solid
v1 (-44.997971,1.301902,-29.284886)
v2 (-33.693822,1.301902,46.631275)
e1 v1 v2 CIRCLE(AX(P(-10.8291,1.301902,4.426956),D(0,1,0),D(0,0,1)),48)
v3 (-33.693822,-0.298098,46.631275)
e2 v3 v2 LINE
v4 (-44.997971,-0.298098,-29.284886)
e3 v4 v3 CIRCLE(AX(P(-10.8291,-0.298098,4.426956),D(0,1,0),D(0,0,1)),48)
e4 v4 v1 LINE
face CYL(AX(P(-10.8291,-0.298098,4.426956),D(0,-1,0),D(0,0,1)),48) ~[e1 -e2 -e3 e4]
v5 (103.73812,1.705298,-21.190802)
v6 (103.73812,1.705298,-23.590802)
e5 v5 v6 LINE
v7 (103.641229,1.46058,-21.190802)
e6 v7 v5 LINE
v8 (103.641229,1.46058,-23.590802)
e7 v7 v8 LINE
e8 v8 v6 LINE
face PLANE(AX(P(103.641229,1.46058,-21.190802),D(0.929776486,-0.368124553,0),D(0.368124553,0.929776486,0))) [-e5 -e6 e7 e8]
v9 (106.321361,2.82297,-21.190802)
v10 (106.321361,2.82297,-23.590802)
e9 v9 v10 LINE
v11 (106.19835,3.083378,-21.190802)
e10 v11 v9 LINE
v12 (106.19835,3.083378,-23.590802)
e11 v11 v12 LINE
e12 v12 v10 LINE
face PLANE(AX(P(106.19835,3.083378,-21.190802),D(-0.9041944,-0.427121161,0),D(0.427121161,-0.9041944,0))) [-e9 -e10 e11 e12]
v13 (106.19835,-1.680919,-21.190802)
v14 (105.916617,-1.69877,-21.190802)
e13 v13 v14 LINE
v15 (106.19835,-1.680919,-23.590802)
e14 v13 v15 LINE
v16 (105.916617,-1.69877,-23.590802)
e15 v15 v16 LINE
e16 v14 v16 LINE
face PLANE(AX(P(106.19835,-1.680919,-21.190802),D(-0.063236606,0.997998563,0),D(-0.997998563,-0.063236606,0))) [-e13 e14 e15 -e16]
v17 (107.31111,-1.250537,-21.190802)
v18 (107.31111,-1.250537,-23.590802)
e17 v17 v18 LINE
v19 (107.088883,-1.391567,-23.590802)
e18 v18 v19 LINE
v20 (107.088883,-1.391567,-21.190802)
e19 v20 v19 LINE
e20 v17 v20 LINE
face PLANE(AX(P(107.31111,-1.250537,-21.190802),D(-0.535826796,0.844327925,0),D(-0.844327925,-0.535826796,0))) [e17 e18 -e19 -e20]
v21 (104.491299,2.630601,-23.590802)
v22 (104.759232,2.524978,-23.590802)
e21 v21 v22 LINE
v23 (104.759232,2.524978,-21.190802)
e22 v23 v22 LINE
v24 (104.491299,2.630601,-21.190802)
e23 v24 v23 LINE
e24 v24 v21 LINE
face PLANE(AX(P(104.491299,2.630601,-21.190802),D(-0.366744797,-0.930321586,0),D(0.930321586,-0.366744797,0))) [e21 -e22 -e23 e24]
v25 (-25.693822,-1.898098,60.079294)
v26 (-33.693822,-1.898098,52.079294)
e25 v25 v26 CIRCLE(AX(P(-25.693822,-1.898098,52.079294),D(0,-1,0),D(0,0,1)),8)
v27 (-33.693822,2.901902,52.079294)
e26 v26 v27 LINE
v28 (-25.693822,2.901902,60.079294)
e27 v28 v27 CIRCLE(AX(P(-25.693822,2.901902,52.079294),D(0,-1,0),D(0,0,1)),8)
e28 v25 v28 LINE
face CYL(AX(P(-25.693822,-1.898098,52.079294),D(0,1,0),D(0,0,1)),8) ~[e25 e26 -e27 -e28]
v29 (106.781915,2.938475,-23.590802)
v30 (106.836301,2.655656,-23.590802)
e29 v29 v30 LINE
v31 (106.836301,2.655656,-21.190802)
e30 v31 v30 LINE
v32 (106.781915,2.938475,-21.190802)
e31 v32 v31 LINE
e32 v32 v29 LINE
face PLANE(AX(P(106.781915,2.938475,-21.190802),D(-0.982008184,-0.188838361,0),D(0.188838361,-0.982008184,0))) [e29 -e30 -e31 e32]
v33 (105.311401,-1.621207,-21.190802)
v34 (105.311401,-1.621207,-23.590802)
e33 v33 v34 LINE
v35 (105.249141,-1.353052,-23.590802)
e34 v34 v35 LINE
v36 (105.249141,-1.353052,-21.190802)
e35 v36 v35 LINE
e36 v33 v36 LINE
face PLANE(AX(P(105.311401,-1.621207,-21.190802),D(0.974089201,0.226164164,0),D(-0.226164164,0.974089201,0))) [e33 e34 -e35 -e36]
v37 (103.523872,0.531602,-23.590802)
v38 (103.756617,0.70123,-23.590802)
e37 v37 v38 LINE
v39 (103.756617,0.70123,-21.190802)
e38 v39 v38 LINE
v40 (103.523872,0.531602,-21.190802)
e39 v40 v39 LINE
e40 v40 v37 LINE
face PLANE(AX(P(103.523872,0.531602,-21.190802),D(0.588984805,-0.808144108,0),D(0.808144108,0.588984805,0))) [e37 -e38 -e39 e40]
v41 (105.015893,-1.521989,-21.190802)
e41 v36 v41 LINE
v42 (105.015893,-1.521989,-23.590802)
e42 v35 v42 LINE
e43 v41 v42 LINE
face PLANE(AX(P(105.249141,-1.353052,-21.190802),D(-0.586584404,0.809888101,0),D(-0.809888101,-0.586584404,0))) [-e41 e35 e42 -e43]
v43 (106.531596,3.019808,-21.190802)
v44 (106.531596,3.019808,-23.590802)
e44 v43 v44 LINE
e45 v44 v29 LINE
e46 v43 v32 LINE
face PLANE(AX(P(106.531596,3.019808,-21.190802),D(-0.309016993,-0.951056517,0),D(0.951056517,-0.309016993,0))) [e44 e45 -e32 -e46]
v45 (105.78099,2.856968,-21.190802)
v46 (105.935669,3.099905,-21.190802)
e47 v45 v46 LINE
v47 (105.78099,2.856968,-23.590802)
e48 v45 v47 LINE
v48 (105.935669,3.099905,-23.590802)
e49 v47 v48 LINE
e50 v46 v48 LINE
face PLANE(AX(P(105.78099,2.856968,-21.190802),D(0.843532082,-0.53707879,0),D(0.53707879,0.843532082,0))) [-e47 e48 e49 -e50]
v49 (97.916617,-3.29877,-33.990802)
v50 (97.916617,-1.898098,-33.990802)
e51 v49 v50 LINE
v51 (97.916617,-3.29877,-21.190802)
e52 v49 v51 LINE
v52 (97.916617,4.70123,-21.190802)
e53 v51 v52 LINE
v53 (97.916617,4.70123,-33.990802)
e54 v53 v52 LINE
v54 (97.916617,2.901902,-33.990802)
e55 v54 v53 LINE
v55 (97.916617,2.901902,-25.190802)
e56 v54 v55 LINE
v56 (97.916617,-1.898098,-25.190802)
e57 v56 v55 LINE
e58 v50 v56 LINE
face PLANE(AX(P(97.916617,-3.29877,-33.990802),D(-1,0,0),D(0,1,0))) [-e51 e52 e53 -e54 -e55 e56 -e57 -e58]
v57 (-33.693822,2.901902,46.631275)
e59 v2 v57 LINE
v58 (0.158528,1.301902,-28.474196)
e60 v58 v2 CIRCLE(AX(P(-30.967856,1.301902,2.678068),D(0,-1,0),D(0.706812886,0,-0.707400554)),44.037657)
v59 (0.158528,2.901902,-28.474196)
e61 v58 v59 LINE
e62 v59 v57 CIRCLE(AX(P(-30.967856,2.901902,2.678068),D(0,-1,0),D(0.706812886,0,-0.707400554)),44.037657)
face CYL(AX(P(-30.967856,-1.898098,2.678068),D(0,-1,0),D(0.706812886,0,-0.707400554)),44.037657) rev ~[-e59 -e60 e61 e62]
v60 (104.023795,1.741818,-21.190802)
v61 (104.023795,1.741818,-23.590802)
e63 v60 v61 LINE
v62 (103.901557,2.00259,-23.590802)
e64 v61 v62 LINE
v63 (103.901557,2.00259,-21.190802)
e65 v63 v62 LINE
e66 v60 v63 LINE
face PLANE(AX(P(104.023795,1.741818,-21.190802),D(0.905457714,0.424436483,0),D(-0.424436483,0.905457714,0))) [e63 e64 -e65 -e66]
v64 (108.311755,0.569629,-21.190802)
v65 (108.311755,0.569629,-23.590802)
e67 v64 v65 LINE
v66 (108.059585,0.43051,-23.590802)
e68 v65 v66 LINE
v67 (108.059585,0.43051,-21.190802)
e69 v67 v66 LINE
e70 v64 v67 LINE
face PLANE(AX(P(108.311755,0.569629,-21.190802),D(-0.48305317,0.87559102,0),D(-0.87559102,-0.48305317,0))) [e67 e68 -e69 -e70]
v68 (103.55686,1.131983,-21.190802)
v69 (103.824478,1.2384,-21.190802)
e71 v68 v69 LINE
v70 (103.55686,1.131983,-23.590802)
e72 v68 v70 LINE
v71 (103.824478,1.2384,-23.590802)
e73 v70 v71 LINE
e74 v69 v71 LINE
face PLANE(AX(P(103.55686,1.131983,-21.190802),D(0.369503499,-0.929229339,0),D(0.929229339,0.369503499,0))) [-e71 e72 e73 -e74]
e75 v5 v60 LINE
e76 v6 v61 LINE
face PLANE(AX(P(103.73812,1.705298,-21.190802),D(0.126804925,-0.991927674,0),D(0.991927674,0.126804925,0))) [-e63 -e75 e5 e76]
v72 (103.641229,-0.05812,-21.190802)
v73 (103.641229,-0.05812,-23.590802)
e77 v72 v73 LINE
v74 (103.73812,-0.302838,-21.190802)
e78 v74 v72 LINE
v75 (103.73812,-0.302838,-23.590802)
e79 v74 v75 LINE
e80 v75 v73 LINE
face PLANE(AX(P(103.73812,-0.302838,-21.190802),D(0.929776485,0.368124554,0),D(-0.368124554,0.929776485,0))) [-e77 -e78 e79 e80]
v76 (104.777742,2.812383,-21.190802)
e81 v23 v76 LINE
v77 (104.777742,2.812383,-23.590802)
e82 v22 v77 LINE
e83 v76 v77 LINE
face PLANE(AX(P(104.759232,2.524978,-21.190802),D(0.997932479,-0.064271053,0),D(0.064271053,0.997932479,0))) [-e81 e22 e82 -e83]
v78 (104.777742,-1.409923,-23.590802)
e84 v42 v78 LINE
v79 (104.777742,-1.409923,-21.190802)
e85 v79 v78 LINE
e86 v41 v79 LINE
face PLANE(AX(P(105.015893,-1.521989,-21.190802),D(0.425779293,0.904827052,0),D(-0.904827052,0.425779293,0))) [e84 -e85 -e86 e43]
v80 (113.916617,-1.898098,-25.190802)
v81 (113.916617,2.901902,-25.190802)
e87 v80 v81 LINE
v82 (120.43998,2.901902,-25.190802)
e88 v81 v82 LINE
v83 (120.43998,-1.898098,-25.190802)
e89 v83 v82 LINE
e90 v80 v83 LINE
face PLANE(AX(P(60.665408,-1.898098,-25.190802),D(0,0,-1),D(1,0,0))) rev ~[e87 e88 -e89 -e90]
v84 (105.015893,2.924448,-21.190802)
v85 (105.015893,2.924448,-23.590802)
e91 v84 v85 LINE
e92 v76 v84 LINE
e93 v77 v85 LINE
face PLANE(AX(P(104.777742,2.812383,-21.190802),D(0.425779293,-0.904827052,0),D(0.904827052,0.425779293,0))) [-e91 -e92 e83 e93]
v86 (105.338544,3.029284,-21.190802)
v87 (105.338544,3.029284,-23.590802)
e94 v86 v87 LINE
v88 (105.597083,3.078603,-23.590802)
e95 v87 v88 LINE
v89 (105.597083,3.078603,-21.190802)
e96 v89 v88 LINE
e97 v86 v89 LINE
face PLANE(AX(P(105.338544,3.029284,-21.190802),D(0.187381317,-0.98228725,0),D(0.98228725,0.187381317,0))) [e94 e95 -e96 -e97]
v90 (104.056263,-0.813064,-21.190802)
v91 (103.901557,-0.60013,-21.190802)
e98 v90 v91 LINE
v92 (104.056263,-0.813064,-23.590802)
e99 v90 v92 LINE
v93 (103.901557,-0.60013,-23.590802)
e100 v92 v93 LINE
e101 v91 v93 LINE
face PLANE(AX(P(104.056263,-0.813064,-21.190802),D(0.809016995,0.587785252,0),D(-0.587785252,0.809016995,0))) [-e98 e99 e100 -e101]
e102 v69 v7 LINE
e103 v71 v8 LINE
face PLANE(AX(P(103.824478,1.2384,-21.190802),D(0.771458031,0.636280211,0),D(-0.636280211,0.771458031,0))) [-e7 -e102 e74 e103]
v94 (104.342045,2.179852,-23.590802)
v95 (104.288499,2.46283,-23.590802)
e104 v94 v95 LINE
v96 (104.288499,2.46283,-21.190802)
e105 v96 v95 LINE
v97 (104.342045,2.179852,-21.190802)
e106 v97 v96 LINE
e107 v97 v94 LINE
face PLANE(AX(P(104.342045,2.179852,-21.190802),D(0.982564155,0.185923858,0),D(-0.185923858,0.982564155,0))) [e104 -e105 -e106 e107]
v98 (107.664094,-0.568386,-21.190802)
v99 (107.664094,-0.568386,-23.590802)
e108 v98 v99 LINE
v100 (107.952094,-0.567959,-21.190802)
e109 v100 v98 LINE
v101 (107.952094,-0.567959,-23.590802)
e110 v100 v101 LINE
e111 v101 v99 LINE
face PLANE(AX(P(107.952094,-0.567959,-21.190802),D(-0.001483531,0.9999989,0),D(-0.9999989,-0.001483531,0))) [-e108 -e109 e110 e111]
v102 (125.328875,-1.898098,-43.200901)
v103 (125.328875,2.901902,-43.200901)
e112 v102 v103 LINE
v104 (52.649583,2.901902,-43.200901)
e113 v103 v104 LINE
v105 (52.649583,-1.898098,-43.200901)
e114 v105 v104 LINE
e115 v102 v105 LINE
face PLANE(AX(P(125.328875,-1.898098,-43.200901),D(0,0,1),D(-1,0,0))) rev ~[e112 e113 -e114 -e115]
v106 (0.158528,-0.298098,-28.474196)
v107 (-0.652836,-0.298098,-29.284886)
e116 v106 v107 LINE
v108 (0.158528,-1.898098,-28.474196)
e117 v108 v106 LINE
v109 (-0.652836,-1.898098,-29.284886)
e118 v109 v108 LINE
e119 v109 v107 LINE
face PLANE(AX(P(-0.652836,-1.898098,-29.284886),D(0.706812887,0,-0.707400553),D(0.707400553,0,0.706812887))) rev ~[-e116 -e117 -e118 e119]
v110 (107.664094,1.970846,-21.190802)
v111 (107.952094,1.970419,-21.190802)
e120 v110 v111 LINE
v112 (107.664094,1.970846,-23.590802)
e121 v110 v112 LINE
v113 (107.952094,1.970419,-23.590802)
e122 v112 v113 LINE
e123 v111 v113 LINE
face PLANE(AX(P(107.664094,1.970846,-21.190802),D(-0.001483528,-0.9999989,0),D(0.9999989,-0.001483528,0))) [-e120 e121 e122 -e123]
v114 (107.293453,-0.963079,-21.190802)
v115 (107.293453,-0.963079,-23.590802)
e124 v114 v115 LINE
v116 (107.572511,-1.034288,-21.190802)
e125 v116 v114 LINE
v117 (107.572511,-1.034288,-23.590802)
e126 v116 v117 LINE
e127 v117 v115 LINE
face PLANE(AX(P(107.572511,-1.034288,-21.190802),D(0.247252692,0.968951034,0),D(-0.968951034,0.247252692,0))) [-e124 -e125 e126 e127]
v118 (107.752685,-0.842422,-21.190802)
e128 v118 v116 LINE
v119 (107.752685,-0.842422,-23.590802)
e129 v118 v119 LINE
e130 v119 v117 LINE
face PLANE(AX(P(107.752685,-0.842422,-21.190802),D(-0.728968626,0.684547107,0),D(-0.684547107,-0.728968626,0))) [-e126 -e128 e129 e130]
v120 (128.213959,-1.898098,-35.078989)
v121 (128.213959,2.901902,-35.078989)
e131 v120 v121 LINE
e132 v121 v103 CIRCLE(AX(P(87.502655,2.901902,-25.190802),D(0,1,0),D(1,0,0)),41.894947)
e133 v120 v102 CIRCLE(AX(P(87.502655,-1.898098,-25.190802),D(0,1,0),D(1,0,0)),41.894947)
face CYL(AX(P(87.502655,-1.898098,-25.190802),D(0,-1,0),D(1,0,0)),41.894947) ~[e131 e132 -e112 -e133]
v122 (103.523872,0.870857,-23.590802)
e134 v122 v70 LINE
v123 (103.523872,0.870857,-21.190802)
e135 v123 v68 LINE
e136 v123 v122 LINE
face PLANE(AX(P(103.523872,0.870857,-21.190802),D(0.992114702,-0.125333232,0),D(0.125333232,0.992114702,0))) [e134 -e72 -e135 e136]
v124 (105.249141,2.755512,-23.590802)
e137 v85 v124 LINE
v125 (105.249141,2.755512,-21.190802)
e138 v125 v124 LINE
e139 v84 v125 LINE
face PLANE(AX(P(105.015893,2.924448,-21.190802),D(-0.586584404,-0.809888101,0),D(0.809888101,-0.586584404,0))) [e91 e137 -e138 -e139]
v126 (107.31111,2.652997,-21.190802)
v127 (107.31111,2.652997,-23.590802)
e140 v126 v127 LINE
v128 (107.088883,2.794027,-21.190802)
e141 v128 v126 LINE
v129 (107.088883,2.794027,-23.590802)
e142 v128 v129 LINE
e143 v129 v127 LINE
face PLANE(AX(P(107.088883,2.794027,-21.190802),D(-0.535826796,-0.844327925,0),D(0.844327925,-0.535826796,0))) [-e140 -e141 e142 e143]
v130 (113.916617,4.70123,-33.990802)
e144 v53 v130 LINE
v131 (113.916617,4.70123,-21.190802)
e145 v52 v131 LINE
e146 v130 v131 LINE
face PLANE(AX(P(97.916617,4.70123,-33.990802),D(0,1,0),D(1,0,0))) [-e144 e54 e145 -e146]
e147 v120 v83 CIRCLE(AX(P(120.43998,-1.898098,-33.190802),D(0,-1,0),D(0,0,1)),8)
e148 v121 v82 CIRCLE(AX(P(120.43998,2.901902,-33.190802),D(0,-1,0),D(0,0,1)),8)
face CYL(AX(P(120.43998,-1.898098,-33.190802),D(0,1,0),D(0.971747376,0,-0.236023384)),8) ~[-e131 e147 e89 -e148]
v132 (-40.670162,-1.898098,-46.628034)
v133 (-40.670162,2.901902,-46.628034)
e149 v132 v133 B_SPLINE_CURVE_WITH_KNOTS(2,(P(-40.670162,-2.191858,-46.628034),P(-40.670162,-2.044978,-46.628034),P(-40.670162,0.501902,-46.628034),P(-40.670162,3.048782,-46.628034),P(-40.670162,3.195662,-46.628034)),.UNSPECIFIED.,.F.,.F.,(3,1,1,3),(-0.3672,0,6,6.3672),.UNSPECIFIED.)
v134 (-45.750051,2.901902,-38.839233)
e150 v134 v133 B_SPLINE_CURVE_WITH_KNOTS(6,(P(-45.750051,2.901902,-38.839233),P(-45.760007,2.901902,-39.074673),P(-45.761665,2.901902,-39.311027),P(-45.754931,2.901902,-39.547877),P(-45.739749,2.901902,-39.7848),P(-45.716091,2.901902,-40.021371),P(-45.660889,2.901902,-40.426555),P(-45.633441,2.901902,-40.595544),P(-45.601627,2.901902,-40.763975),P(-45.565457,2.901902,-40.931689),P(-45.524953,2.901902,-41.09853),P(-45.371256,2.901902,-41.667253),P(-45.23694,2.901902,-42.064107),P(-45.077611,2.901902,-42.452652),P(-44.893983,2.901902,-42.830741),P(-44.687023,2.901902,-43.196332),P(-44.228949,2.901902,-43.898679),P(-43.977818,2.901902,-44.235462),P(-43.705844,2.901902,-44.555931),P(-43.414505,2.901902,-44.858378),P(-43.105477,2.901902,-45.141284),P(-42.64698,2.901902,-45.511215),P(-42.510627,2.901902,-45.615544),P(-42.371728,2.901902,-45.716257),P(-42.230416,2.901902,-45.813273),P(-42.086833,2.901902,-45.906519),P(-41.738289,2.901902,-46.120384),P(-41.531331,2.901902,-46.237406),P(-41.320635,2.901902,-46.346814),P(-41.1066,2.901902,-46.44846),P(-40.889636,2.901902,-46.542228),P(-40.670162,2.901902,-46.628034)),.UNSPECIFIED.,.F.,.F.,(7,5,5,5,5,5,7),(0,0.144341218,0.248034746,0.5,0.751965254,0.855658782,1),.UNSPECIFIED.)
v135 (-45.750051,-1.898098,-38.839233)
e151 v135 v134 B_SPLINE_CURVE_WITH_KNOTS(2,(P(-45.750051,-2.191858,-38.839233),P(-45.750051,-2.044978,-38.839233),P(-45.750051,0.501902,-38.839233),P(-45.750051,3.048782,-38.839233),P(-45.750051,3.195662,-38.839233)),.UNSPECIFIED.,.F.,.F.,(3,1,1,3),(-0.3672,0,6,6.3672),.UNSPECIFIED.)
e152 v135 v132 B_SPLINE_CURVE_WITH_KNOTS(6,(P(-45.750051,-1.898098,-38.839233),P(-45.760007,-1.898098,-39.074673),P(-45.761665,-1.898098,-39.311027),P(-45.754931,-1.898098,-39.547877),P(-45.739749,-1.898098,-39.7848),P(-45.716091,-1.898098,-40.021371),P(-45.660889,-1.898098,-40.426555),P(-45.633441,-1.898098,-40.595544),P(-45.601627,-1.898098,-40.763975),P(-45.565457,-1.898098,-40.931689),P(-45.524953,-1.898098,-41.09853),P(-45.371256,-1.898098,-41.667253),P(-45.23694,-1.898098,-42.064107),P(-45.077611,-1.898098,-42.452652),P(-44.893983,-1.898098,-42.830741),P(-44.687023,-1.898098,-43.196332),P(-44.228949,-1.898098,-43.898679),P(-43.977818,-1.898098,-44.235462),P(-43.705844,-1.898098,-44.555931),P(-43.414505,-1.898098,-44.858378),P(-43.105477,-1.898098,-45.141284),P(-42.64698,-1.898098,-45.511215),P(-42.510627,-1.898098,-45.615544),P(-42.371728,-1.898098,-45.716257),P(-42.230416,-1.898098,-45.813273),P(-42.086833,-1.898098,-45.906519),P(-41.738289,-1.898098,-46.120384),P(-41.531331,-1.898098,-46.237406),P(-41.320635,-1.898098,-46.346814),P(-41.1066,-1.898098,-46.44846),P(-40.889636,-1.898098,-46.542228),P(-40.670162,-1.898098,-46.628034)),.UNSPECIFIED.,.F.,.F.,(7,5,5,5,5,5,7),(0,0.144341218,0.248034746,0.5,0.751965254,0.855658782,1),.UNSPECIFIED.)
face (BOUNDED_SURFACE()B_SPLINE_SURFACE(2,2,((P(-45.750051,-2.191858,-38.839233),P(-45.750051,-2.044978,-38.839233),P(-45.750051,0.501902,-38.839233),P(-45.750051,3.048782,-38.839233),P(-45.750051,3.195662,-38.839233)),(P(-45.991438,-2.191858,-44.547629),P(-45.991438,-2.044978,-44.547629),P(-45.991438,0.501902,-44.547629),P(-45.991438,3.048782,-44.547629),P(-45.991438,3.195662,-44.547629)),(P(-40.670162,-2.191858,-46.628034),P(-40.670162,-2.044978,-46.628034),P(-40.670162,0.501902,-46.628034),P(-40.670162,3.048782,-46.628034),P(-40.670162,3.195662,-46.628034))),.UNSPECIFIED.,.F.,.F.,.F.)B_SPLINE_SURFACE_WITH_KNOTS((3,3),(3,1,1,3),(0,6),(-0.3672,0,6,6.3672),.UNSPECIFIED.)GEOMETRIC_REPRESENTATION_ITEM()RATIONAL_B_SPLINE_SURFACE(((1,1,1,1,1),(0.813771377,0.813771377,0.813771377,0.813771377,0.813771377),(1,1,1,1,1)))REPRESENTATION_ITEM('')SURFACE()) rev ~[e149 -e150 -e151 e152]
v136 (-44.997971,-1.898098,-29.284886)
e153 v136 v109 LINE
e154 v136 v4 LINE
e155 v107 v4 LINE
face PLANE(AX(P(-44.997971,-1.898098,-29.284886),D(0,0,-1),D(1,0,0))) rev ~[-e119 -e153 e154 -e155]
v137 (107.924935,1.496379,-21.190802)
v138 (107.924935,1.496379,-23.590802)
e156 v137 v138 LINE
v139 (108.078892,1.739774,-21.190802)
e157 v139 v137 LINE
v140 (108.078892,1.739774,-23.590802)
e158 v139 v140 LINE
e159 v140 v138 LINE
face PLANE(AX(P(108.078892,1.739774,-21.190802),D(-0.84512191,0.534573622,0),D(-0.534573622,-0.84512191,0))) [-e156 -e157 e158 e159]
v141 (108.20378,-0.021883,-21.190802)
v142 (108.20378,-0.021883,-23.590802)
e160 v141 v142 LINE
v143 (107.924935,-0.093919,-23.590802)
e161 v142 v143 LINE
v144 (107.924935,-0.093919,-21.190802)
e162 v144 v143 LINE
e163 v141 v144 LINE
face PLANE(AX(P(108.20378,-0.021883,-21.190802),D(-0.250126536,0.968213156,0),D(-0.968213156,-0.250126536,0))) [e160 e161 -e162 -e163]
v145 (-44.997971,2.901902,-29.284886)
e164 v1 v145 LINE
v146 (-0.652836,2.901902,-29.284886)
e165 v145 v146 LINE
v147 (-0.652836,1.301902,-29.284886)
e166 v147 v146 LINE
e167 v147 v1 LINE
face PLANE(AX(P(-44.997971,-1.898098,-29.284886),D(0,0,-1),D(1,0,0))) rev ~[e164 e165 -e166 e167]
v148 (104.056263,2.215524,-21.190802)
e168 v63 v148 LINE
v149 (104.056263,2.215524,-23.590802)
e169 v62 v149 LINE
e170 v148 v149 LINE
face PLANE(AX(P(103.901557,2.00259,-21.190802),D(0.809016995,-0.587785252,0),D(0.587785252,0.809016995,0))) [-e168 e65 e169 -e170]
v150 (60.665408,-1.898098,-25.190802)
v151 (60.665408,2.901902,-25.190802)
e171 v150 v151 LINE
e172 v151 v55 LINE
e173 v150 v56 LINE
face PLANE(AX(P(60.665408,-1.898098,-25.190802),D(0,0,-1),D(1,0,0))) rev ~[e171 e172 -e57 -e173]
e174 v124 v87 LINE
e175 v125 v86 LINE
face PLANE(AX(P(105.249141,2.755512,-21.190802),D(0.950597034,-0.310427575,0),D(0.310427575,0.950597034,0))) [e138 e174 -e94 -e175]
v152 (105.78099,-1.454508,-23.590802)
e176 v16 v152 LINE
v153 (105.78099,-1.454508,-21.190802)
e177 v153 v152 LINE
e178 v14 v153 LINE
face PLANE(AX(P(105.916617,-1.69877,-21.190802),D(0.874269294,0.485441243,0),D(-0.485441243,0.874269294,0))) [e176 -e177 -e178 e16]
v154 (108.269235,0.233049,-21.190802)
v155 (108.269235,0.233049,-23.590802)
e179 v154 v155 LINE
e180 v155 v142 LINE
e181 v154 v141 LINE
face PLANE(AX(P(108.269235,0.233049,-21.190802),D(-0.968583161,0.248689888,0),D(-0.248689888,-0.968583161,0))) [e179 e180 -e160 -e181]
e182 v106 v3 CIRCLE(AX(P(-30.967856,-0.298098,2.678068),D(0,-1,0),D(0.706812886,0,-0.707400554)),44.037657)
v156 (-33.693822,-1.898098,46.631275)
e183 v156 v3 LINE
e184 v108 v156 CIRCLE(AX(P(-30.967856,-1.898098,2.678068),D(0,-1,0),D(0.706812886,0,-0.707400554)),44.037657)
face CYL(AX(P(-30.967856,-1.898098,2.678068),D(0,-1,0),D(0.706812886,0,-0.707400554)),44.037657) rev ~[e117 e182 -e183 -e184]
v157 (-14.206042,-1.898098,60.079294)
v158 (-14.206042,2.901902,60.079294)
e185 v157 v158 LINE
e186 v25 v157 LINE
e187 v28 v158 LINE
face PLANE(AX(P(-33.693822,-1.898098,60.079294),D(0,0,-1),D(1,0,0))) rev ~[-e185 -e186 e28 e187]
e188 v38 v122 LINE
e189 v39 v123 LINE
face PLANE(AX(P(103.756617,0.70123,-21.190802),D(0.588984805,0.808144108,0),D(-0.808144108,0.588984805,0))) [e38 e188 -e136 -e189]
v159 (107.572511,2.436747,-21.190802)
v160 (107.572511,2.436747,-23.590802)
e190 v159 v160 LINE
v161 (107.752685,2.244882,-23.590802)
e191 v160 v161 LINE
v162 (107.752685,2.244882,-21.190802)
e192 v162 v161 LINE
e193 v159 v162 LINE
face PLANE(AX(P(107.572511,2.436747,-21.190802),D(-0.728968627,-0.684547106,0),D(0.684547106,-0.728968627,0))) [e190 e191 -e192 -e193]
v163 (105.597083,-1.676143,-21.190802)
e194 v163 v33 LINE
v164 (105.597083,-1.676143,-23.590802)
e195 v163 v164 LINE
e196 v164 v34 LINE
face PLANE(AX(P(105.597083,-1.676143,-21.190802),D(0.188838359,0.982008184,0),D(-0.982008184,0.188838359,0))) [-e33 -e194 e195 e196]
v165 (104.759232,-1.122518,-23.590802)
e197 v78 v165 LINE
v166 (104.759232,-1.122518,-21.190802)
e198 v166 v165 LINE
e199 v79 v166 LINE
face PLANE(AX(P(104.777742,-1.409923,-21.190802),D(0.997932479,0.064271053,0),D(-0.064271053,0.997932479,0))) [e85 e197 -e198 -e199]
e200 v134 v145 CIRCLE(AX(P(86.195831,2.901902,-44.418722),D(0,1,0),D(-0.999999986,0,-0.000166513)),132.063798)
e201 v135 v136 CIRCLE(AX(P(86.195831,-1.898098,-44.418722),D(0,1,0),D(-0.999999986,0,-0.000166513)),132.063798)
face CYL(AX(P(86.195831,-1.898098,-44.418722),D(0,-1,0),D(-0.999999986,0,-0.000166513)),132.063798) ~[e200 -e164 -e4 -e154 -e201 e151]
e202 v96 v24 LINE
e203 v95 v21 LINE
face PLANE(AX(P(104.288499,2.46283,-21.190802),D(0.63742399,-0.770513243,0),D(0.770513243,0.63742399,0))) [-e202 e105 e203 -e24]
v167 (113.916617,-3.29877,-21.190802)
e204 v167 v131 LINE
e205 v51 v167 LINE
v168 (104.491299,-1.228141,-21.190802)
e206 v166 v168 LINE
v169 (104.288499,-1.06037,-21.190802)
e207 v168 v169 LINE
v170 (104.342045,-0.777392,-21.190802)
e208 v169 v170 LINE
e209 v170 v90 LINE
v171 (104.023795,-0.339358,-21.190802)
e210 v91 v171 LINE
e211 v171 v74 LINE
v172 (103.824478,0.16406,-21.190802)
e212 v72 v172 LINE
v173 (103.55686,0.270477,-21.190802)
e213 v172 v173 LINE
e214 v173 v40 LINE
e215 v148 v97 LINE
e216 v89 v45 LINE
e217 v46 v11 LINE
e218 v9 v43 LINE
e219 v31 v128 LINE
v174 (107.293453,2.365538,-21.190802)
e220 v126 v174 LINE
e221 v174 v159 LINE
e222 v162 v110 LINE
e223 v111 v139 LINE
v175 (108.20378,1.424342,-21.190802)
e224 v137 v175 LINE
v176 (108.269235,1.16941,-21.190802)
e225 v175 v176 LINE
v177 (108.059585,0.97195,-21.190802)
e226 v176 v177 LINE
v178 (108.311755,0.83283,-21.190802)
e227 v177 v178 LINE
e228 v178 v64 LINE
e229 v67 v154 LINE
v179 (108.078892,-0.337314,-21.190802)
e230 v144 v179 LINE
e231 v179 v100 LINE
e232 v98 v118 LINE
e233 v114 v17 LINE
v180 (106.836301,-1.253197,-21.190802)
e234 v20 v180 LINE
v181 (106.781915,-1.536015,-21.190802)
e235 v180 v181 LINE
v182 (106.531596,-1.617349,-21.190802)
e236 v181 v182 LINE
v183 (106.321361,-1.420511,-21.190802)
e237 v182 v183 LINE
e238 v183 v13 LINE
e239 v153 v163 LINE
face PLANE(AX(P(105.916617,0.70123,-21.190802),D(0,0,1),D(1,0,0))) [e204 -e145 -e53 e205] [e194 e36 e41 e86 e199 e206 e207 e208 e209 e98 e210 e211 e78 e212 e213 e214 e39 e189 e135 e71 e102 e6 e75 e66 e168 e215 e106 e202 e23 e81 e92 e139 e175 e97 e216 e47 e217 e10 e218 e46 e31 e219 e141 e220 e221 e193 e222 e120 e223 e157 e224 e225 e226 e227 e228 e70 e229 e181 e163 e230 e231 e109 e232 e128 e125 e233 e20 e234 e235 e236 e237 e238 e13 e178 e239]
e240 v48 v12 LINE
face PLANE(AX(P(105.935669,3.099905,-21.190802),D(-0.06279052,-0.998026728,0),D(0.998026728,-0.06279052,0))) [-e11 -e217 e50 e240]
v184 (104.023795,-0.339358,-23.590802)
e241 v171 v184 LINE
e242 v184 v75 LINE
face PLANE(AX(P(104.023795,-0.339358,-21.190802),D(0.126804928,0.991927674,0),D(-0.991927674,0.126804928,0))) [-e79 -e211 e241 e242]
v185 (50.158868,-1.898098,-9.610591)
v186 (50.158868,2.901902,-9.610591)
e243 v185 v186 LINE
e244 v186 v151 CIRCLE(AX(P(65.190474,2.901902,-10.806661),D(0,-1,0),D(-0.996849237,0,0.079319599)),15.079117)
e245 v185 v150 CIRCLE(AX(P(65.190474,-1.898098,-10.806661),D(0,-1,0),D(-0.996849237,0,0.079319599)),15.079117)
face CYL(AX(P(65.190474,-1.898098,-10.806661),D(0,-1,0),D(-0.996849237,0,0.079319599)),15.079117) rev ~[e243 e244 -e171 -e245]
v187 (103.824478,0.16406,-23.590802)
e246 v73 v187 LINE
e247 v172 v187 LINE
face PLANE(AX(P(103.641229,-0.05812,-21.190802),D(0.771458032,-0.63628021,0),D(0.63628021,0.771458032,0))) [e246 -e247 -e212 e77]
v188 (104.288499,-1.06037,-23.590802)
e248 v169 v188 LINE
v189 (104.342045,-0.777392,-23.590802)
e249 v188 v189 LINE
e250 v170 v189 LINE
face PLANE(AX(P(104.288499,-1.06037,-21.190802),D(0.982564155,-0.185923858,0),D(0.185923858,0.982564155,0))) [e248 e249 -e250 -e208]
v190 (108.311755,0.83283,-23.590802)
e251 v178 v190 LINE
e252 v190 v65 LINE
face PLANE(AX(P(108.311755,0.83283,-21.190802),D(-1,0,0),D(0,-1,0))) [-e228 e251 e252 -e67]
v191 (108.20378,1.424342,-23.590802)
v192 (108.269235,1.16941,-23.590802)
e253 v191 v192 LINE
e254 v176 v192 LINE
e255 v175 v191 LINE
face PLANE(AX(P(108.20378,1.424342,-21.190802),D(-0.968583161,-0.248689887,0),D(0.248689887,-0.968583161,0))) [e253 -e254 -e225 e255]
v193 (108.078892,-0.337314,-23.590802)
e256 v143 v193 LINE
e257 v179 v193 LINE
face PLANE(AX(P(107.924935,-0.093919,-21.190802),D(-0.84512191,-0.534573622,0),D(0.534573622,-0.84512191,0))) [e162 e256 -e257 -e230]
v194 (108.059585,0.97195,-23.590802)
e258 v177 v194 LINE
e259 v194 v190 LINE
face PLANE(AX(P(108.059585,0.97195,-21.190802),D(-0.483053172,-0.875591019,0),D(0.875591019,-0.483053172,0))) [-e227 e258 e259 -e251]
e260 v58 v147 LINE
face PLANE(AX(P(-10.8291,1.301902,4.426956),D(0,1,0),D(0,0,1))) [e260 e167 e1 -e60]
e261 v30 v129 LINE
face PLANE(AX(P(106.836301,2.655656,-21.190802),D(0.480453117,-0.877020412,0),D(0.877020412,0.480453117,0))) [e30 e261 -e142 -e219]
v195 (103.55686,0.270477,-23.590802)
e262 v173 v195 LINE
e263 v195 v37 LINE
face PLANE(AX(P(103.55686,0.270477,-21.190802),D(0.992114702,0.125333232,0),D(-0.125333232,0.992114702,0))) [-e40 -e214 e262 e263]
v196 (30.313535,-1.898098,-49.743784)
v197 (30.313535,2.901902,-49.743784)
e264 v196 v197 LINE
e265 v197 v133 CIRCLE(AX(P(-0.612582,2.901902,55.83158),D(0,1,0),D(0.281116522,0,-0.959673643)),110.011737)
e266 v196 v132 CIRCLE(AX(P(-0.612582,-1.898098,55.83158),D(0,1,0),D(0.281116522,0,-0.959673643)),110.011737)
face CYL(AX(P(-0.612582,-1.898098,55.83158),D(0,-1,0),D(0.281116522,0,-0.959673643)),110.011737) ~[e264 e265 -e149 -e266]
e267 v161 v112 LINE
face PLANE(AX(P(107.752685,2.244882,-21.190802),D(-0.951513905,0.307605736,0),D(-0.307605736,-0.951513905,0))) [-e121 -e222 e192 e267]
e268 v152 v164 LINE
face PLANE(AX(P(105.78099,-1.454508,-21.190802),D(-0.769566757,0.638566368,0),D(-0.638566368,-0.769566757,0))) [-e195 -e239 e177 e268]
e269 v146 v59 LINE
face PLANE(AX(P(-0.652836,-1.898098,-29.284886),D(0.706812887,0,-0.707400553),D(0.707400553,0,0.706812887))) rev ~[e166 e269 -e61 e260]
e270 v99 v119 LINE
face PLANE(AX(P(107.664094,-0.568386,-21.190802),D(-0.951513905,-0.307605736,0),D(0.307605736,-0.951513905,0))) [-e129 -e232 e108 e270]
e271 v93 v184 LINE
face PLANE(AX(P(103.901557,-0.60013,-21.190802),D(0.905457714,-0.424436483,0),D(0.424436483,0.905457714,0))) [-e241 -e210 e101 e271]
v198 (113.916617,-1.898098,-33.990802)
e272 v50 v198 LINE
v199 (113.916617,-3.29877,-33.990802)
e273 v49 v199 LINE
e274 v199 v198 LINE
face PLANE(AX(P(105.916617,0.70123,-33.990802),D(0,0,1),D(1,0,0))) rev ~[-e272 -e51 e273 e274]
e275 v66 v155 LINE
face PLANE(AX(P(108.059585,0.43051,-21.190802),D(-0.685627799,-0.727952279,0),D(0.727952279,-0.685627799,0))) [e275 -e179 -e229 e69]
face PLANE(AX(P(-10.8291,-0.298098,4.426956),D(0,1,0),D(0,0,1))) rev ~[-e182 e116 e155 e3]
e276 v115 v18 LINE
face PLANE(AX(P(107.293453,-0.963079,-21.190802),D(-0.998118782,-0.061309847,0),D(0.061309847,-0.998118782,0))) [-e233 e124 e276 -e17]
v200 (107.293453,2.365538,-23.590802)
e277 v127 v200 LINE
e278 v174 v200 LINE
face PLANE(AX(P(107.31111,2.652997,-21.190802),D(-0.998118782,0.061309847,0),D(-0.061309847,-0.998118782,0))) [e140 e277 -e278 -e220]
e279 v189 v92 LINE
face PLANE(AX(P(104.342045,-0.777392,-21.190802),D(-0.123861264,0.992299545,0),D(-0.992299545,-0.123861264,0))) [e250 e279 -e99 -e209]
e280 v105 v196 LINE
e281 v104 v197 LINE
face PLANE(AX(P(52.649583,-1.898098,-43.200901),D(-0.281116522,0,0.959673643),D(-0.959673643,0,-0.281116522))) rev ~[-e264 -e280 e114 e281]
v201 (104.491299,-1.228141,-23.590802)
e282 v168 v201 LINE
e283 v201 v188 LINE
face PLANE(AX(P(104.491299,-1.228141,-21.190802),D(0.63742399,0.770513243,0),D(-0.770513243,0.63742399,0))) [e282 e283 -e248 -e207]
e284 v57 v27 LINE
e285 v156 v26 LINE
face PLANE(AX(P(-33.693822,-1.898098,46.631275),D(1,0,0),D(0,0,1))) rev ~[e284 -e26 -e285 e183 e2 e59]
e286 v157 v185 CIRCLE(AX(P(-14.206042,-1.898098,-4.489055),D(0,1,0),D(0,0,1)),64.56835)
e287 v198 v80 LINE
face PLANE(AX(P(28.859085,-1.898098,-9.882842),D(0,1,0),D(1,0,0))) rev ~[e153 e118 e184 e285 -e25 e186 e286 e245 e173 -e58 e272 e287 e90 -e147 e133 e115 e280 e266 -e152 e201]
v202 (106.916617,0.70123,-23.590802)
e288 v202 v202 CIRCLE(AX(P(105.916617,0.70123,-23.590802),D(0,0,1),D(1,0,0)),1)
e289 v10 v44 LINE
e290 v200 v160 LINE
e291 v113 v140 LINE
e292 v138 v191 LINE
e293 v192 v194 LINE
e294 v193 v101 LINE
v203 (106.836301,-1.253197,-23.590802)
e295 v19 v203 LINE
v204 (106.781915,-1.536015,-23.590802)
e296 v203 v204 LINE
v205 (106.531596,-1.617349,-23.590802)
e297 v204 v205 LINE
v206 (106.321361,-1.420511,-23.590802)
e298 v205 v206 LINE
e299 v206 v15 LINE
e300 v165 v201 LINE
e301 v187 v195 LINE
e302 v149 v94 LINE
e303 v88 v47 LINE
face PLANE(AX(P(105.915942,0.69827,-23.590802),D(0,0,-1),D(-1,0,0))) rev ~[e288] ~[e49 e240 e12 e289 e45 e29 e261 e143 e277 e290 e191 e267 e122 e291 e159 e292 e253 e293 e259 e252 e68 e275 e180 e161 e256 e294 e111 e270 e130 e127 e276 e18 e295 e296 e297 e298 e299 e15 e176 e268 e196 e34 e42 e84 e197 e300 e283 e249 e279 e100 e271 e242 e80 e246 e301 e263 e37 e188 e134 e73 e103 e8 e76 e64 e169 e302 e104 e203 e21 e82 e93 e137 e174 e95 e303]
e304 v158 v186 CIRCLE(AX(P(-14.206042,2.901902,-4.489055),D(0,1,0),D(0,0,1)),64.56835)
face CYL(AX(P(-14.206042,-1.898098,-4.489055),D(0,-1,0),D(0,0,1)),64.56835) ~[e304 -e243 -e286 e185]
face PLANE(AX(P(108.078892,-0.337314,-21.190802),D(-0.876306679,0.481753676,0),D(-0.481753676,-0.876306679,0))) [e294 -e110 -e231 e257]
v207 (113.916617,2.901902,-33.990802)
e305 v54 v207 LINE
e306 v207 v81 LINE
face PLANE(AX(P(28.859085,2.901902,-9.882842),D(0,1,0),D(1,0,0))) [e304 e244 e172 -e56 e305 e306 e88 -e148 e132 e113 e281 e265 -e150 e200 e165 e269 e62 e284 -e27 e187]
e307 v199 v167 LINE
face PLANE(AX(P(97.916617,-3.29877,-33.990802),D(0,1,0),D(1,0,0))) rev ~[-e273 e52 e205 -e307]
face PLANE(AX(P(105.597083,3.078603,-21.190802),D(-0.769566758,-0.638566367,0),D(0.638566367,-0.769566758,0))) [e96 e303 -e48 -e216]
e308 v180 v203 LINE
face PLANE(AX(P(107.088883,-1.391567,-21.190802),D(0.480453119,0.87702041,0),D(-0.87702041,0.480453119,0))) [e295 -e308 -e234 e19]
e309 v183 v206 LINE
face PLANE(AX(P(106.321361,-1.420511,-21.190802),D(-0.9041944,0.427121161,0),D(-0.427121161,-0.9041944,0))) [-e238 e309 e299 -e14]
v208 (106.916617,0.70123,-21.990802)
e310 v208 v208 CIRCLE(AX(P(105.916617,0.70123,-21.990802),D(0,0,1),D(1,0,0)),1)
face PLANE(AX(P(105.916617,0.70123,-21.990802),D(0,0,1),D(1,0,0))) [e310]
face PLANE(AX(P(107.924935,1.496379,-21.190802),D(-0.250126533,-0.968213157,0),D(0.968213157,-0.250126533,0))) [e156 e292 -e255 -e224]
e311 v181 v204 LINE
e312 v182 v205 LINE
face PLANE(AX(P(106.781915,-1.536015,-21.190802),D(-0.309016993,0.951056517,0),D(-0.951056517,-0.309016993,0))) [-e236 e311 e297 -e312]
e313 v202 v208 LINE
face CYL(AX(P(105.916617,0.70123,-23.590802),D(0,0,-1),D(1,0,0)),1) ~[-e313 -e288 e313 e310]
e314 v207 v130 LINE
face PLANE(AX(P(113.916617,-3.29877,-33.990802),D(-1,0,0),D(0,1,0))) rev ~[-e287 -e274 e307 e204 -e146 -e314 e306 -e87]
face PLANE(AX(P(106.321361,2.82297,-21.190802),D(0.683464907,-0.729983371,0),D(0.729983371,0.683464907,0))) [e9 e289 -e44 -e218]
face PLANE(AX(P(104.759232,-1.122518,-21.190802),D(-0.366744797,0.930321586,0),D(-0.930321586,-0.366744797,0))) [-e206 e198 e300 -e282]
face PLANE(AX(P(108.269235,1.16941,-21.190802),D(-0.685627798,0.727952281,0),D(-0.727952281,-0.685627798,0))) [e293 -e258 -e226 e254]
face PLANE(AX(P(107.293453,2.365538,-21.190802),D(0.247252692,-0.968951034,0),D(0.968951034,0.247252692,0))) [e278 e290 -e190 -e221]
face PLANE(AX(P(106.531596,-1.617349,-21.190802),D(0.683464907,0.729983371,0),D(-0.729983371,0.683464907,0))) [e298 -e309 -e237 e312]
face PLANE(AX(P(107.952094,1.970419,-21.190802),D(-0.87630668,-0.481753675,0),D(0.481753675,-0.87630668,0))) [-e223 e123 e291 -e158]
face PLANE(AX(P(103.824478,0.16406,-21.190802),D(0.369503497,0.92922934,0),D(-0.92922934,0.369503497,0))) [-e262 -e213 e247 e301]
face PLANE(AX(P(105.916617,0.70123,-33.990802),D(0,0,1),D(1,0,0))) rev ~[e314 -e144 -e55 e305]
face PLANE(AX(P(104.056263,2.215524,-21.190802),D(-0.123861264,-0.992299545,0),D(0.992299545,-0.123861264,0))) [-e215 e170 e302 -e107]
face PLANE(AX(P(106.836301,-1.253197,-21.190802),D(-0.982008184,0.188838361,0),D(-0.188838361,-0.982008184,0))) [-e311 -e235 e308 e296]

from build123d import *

# Parameters (mm, degrees)
SKETCH2_R                = 30
BOSS_EXTRUDE1_DEPTH      = 1
BOSS_EXTRUDE2_DEPTH      = 1
BOSS_EXTRUDE2_DEPTH_BACK = 2
SCALE1_SCALE             = 2
BOSS_EXTRUDE3_DEPTH      = 5
BOSS_EXTRUDE3_DEPTH_BACK = 11
SKETCH5_W                = 20
SKETCH5_H                = 10
FILLET1_R                = 10
FILLET2_R                = 10
FILLET3_R                = 10
CUT_EXTRUDE3_DEPTH       = 3
SKETCH13_R               = 1.25
BOSS_EXTRUDE4_DEPTH      = 2
SCALE2_SCALE             = 0.8


with BuildPart() as part:
    # Sketch2 → Boss-Extrude1 (new body)
    with BuildSketch(Plane(origin=(0, 0, 0), x_dir=(1, 0, 0), z_dir=(0, 1, 0))):
        with Locations(Location((0, 0, 0), (0, 0, 270))):
            Circle(SKETCH2_R)
    extrude(amount=BOSS_EXTRUDE1_DEPTH)

    # Sketch3 → Boss-Extrude2 (add, two sides: drawn at the far end of the back side and taken through both)
    with BuildSketch(Plane(origin=(0, 1, 0), x_dir=(1, 0, 0), z_dir=(0, 1, 0)).offset(-BOSS_EXTRUDE2_DEPTH_BACK)):
        with BuildLine():
            Line((-14.290451106, -26.37769905), (-14.290451106, -34.782711282))
            Line((-14.290451106, -34.782711282), (-2.11058873, -34.782711282))
            ThreePointArc((-2.11058873, -34.782711282), (27.5349766, -21.80785282), (38.117480018, 8.773466924))
            ThreePointArc((38.117480018, 8.773466924), (39.698443789, 14.79025178), (44.684067377, 18.511098982))
            Line((44.684067377, 18.511098982), (87.64168842, 18.511098982))
            ThreePointArc((87.64168842, 18.511098982), (86.998038921, 24.281089627), (85.098734122, 29.767410617))
            Line((85.098734122, 29.767410617), (39.674176802, 29.767410617))
            Line((39.674176802, 29.767410617), (25.714146622, 33.856712387))
            ThreePointArc((25.714146622, 33.856712387), (1.610609717, 36.463459714), (-21.899290339, 30.542292401))
            ThreePointArc((-21.899290339, 30.542292401), (-21.763636639, 25.798277328), (-21.355544159, 21.069901131))
            Line((-21.355544159, 21.069901131), (6.360164673, 21.069901131))
            Line((6.360164673, 21.069901131), (6.867267346, 20.563219729))
            ThreePointArc((6.867267346, 20.563219729), (12.505714755, -10.216879454), (-14.290451106, -26.37769905))
        make_face()
    extrude(amount=BOSS_EXTRUDE2_DEPTH + BOSS_EXTRUDE2_DEPTH_BACK)


with BuildPart() as part_1:
    # Scale1: scaled about (18.795730072, 0.5, -7.565232671)
    add(part.part.scale(SCALE1_SCALE).moved(Location((-18.795730072, -0.5, 7.565232671))))

    # Sketch5 → Boss-Extrude3 (add, two sides: drawn at the far end of the back side and taken through both)
    with BuildSketch(Plane.XY.offset(-29.456965293).offset(-BOSS_EXTRUDE3_DEPTH_BACK)):
        with Locations((127.136416626, 0.749159319)):
            Rectangle(SKETCH5_W, SKETCH5_H)
    extrude(amount=BOSS_EXTRUDE3_DEPTH + BOSS_EXTRUDE3_DEPTH_BACK)

    # Fillet1
    fillet1_edges = [part_1.edges().sort_by_distance(p)[0] for p in [
        (-47.376632285, 0.5, 77.130655235),
    ]]
    fillet(fillet1_edges, radius=FILLET1_R)

    # Fillet2
    fillet2_edges = [part_1.edges().sort_by_distance(p)[0] for p in [
        (-62.59431075, 0.5, -53.519352131),
    ]]
    fillet(fillet2_edges, radius=FILLET2_R)

    # Fillet3
    fillet3_edges = [part_1.edges().sort_by_distance(p)[0] for p in [
        (156.487646768, 0.5, -29.456965293),
    ]]
    fillet(fillet3_edges, radius=FILLET3_R)

    # Sketch12 → Cut-Extrude3 (cut)
    with BuildSketch(Plane.XY.offset(-24.456965293)):
        Polygon((124.436416626, 0.749159319), (124.145484747, 0.961193849), (124.186719528, 1.287600755), (124.521242091, 1.420622015), (124.292181215, 1.698346906), (124.413294627, 2.004244466), (124.770388589, 2.049894239), (124.617591455, 2.375859016), (124.810973495, 2.64202656), (125.168201332, 2.597436505), (125.101268743, 2.951159601), (125.354768508, 3.160872845), (125.689684279, 3.028844718), (125.712821858, 3.38810041), (126.010511024, 3.528182299), (126.302070741, 3.317011913), (126.413824668, 3.659226845), (126.736998331, 3.720875519), (126.966882223, 3.443831486), (127.160230587, 3.747503035), (127.488582557, 3.72684488), (127.642346175, 3.401334896), (127.905140188, 3.647382262), (128.218038903, 3.545715307), (128.286020713, 3.192192361), (128.601748061, 3.365155483), (128.879532943, 3.188867836), (128.857461398, 2.829545075), (129.20628377, 2.918556044), (129.431500575, 2.678724506), (129.32076251, 2.3361795), (129.680762114, 2.33564543), (129.839259641, 2.047339499), (129.646813137, 1.743095611), (129.995369874, 1.653050059), (130.07718914, 1.334385057), (129.815126319, 1.08755905), (130.130339086, 0.913659908), (130.130339086, 0.58465873), (129.815126319, 0.410759589), (130.07718914, 0.163933581), (129.995369874, -0.15473142), (129.646813137, -0.244776973), (129.839259641, -0.549020861), (129.680762114, -0.837326791), (129.32076251, -0.837860862), (129.431500575, -1.180405868), (129.20628377, -1.420237405), (128.857461398, -1.331226436), (128.879532943, -1.690549198), (128.601748061, -1.866836845), (128.286020713, -1.693873722), (128.218038903, -2.047396669), (127.905140188, -2.149063624), (127.642346175, -1.903016258), (127.488582557, -2.228526242), (127.136416626, -2.250840681), (126.966882223, -1.945512848), (126.736998331, -2.22255688), (126.379896011, -2.153886764), (126.302070741, -1.818693275), (126.010511024, -2.029863661), (125.712821858, -1.889781772), (125.689684279, -1.53052608), (125.354768508, -1.662554207), (125.101268743, -1.452840963), (125.168201332, -1.099117867), (124.810973495, -1.143707922), (124.617591455, -0.877540378), (124.770388589, -0.551575601), (124.413294627, -0.505925827), (124.292181215, -0.200028268), (124.521242091, 0.077696624), (124.186719528, 0.210717883), (124.145484747, 0.537124789), align=None)
    extrude(amount=-CUT_EXTRUDE3_DEPTH, mode=Mode.SUBTRACT)

    # Sketch13 → Boss-Extrude4 (add)
    with BuildSketch(Plane.XY.offset(-27.456965293)):
        with Locations((127.136416626, 0.749159319)):
            Circle(SKETCH13_R)
    extrude(amount=BOSS_EXTRUDE4_DEPTH)


with BuildPart() as part_2:
    # Scale2: scaled about (21.037420475, 0.509511918, -8.126150546)
    add(part_1.part.scale(SCALE2_SCALE).moved(Location((4.207484095, 0.101902384, -1.625230109))))


solid = part_2.part
